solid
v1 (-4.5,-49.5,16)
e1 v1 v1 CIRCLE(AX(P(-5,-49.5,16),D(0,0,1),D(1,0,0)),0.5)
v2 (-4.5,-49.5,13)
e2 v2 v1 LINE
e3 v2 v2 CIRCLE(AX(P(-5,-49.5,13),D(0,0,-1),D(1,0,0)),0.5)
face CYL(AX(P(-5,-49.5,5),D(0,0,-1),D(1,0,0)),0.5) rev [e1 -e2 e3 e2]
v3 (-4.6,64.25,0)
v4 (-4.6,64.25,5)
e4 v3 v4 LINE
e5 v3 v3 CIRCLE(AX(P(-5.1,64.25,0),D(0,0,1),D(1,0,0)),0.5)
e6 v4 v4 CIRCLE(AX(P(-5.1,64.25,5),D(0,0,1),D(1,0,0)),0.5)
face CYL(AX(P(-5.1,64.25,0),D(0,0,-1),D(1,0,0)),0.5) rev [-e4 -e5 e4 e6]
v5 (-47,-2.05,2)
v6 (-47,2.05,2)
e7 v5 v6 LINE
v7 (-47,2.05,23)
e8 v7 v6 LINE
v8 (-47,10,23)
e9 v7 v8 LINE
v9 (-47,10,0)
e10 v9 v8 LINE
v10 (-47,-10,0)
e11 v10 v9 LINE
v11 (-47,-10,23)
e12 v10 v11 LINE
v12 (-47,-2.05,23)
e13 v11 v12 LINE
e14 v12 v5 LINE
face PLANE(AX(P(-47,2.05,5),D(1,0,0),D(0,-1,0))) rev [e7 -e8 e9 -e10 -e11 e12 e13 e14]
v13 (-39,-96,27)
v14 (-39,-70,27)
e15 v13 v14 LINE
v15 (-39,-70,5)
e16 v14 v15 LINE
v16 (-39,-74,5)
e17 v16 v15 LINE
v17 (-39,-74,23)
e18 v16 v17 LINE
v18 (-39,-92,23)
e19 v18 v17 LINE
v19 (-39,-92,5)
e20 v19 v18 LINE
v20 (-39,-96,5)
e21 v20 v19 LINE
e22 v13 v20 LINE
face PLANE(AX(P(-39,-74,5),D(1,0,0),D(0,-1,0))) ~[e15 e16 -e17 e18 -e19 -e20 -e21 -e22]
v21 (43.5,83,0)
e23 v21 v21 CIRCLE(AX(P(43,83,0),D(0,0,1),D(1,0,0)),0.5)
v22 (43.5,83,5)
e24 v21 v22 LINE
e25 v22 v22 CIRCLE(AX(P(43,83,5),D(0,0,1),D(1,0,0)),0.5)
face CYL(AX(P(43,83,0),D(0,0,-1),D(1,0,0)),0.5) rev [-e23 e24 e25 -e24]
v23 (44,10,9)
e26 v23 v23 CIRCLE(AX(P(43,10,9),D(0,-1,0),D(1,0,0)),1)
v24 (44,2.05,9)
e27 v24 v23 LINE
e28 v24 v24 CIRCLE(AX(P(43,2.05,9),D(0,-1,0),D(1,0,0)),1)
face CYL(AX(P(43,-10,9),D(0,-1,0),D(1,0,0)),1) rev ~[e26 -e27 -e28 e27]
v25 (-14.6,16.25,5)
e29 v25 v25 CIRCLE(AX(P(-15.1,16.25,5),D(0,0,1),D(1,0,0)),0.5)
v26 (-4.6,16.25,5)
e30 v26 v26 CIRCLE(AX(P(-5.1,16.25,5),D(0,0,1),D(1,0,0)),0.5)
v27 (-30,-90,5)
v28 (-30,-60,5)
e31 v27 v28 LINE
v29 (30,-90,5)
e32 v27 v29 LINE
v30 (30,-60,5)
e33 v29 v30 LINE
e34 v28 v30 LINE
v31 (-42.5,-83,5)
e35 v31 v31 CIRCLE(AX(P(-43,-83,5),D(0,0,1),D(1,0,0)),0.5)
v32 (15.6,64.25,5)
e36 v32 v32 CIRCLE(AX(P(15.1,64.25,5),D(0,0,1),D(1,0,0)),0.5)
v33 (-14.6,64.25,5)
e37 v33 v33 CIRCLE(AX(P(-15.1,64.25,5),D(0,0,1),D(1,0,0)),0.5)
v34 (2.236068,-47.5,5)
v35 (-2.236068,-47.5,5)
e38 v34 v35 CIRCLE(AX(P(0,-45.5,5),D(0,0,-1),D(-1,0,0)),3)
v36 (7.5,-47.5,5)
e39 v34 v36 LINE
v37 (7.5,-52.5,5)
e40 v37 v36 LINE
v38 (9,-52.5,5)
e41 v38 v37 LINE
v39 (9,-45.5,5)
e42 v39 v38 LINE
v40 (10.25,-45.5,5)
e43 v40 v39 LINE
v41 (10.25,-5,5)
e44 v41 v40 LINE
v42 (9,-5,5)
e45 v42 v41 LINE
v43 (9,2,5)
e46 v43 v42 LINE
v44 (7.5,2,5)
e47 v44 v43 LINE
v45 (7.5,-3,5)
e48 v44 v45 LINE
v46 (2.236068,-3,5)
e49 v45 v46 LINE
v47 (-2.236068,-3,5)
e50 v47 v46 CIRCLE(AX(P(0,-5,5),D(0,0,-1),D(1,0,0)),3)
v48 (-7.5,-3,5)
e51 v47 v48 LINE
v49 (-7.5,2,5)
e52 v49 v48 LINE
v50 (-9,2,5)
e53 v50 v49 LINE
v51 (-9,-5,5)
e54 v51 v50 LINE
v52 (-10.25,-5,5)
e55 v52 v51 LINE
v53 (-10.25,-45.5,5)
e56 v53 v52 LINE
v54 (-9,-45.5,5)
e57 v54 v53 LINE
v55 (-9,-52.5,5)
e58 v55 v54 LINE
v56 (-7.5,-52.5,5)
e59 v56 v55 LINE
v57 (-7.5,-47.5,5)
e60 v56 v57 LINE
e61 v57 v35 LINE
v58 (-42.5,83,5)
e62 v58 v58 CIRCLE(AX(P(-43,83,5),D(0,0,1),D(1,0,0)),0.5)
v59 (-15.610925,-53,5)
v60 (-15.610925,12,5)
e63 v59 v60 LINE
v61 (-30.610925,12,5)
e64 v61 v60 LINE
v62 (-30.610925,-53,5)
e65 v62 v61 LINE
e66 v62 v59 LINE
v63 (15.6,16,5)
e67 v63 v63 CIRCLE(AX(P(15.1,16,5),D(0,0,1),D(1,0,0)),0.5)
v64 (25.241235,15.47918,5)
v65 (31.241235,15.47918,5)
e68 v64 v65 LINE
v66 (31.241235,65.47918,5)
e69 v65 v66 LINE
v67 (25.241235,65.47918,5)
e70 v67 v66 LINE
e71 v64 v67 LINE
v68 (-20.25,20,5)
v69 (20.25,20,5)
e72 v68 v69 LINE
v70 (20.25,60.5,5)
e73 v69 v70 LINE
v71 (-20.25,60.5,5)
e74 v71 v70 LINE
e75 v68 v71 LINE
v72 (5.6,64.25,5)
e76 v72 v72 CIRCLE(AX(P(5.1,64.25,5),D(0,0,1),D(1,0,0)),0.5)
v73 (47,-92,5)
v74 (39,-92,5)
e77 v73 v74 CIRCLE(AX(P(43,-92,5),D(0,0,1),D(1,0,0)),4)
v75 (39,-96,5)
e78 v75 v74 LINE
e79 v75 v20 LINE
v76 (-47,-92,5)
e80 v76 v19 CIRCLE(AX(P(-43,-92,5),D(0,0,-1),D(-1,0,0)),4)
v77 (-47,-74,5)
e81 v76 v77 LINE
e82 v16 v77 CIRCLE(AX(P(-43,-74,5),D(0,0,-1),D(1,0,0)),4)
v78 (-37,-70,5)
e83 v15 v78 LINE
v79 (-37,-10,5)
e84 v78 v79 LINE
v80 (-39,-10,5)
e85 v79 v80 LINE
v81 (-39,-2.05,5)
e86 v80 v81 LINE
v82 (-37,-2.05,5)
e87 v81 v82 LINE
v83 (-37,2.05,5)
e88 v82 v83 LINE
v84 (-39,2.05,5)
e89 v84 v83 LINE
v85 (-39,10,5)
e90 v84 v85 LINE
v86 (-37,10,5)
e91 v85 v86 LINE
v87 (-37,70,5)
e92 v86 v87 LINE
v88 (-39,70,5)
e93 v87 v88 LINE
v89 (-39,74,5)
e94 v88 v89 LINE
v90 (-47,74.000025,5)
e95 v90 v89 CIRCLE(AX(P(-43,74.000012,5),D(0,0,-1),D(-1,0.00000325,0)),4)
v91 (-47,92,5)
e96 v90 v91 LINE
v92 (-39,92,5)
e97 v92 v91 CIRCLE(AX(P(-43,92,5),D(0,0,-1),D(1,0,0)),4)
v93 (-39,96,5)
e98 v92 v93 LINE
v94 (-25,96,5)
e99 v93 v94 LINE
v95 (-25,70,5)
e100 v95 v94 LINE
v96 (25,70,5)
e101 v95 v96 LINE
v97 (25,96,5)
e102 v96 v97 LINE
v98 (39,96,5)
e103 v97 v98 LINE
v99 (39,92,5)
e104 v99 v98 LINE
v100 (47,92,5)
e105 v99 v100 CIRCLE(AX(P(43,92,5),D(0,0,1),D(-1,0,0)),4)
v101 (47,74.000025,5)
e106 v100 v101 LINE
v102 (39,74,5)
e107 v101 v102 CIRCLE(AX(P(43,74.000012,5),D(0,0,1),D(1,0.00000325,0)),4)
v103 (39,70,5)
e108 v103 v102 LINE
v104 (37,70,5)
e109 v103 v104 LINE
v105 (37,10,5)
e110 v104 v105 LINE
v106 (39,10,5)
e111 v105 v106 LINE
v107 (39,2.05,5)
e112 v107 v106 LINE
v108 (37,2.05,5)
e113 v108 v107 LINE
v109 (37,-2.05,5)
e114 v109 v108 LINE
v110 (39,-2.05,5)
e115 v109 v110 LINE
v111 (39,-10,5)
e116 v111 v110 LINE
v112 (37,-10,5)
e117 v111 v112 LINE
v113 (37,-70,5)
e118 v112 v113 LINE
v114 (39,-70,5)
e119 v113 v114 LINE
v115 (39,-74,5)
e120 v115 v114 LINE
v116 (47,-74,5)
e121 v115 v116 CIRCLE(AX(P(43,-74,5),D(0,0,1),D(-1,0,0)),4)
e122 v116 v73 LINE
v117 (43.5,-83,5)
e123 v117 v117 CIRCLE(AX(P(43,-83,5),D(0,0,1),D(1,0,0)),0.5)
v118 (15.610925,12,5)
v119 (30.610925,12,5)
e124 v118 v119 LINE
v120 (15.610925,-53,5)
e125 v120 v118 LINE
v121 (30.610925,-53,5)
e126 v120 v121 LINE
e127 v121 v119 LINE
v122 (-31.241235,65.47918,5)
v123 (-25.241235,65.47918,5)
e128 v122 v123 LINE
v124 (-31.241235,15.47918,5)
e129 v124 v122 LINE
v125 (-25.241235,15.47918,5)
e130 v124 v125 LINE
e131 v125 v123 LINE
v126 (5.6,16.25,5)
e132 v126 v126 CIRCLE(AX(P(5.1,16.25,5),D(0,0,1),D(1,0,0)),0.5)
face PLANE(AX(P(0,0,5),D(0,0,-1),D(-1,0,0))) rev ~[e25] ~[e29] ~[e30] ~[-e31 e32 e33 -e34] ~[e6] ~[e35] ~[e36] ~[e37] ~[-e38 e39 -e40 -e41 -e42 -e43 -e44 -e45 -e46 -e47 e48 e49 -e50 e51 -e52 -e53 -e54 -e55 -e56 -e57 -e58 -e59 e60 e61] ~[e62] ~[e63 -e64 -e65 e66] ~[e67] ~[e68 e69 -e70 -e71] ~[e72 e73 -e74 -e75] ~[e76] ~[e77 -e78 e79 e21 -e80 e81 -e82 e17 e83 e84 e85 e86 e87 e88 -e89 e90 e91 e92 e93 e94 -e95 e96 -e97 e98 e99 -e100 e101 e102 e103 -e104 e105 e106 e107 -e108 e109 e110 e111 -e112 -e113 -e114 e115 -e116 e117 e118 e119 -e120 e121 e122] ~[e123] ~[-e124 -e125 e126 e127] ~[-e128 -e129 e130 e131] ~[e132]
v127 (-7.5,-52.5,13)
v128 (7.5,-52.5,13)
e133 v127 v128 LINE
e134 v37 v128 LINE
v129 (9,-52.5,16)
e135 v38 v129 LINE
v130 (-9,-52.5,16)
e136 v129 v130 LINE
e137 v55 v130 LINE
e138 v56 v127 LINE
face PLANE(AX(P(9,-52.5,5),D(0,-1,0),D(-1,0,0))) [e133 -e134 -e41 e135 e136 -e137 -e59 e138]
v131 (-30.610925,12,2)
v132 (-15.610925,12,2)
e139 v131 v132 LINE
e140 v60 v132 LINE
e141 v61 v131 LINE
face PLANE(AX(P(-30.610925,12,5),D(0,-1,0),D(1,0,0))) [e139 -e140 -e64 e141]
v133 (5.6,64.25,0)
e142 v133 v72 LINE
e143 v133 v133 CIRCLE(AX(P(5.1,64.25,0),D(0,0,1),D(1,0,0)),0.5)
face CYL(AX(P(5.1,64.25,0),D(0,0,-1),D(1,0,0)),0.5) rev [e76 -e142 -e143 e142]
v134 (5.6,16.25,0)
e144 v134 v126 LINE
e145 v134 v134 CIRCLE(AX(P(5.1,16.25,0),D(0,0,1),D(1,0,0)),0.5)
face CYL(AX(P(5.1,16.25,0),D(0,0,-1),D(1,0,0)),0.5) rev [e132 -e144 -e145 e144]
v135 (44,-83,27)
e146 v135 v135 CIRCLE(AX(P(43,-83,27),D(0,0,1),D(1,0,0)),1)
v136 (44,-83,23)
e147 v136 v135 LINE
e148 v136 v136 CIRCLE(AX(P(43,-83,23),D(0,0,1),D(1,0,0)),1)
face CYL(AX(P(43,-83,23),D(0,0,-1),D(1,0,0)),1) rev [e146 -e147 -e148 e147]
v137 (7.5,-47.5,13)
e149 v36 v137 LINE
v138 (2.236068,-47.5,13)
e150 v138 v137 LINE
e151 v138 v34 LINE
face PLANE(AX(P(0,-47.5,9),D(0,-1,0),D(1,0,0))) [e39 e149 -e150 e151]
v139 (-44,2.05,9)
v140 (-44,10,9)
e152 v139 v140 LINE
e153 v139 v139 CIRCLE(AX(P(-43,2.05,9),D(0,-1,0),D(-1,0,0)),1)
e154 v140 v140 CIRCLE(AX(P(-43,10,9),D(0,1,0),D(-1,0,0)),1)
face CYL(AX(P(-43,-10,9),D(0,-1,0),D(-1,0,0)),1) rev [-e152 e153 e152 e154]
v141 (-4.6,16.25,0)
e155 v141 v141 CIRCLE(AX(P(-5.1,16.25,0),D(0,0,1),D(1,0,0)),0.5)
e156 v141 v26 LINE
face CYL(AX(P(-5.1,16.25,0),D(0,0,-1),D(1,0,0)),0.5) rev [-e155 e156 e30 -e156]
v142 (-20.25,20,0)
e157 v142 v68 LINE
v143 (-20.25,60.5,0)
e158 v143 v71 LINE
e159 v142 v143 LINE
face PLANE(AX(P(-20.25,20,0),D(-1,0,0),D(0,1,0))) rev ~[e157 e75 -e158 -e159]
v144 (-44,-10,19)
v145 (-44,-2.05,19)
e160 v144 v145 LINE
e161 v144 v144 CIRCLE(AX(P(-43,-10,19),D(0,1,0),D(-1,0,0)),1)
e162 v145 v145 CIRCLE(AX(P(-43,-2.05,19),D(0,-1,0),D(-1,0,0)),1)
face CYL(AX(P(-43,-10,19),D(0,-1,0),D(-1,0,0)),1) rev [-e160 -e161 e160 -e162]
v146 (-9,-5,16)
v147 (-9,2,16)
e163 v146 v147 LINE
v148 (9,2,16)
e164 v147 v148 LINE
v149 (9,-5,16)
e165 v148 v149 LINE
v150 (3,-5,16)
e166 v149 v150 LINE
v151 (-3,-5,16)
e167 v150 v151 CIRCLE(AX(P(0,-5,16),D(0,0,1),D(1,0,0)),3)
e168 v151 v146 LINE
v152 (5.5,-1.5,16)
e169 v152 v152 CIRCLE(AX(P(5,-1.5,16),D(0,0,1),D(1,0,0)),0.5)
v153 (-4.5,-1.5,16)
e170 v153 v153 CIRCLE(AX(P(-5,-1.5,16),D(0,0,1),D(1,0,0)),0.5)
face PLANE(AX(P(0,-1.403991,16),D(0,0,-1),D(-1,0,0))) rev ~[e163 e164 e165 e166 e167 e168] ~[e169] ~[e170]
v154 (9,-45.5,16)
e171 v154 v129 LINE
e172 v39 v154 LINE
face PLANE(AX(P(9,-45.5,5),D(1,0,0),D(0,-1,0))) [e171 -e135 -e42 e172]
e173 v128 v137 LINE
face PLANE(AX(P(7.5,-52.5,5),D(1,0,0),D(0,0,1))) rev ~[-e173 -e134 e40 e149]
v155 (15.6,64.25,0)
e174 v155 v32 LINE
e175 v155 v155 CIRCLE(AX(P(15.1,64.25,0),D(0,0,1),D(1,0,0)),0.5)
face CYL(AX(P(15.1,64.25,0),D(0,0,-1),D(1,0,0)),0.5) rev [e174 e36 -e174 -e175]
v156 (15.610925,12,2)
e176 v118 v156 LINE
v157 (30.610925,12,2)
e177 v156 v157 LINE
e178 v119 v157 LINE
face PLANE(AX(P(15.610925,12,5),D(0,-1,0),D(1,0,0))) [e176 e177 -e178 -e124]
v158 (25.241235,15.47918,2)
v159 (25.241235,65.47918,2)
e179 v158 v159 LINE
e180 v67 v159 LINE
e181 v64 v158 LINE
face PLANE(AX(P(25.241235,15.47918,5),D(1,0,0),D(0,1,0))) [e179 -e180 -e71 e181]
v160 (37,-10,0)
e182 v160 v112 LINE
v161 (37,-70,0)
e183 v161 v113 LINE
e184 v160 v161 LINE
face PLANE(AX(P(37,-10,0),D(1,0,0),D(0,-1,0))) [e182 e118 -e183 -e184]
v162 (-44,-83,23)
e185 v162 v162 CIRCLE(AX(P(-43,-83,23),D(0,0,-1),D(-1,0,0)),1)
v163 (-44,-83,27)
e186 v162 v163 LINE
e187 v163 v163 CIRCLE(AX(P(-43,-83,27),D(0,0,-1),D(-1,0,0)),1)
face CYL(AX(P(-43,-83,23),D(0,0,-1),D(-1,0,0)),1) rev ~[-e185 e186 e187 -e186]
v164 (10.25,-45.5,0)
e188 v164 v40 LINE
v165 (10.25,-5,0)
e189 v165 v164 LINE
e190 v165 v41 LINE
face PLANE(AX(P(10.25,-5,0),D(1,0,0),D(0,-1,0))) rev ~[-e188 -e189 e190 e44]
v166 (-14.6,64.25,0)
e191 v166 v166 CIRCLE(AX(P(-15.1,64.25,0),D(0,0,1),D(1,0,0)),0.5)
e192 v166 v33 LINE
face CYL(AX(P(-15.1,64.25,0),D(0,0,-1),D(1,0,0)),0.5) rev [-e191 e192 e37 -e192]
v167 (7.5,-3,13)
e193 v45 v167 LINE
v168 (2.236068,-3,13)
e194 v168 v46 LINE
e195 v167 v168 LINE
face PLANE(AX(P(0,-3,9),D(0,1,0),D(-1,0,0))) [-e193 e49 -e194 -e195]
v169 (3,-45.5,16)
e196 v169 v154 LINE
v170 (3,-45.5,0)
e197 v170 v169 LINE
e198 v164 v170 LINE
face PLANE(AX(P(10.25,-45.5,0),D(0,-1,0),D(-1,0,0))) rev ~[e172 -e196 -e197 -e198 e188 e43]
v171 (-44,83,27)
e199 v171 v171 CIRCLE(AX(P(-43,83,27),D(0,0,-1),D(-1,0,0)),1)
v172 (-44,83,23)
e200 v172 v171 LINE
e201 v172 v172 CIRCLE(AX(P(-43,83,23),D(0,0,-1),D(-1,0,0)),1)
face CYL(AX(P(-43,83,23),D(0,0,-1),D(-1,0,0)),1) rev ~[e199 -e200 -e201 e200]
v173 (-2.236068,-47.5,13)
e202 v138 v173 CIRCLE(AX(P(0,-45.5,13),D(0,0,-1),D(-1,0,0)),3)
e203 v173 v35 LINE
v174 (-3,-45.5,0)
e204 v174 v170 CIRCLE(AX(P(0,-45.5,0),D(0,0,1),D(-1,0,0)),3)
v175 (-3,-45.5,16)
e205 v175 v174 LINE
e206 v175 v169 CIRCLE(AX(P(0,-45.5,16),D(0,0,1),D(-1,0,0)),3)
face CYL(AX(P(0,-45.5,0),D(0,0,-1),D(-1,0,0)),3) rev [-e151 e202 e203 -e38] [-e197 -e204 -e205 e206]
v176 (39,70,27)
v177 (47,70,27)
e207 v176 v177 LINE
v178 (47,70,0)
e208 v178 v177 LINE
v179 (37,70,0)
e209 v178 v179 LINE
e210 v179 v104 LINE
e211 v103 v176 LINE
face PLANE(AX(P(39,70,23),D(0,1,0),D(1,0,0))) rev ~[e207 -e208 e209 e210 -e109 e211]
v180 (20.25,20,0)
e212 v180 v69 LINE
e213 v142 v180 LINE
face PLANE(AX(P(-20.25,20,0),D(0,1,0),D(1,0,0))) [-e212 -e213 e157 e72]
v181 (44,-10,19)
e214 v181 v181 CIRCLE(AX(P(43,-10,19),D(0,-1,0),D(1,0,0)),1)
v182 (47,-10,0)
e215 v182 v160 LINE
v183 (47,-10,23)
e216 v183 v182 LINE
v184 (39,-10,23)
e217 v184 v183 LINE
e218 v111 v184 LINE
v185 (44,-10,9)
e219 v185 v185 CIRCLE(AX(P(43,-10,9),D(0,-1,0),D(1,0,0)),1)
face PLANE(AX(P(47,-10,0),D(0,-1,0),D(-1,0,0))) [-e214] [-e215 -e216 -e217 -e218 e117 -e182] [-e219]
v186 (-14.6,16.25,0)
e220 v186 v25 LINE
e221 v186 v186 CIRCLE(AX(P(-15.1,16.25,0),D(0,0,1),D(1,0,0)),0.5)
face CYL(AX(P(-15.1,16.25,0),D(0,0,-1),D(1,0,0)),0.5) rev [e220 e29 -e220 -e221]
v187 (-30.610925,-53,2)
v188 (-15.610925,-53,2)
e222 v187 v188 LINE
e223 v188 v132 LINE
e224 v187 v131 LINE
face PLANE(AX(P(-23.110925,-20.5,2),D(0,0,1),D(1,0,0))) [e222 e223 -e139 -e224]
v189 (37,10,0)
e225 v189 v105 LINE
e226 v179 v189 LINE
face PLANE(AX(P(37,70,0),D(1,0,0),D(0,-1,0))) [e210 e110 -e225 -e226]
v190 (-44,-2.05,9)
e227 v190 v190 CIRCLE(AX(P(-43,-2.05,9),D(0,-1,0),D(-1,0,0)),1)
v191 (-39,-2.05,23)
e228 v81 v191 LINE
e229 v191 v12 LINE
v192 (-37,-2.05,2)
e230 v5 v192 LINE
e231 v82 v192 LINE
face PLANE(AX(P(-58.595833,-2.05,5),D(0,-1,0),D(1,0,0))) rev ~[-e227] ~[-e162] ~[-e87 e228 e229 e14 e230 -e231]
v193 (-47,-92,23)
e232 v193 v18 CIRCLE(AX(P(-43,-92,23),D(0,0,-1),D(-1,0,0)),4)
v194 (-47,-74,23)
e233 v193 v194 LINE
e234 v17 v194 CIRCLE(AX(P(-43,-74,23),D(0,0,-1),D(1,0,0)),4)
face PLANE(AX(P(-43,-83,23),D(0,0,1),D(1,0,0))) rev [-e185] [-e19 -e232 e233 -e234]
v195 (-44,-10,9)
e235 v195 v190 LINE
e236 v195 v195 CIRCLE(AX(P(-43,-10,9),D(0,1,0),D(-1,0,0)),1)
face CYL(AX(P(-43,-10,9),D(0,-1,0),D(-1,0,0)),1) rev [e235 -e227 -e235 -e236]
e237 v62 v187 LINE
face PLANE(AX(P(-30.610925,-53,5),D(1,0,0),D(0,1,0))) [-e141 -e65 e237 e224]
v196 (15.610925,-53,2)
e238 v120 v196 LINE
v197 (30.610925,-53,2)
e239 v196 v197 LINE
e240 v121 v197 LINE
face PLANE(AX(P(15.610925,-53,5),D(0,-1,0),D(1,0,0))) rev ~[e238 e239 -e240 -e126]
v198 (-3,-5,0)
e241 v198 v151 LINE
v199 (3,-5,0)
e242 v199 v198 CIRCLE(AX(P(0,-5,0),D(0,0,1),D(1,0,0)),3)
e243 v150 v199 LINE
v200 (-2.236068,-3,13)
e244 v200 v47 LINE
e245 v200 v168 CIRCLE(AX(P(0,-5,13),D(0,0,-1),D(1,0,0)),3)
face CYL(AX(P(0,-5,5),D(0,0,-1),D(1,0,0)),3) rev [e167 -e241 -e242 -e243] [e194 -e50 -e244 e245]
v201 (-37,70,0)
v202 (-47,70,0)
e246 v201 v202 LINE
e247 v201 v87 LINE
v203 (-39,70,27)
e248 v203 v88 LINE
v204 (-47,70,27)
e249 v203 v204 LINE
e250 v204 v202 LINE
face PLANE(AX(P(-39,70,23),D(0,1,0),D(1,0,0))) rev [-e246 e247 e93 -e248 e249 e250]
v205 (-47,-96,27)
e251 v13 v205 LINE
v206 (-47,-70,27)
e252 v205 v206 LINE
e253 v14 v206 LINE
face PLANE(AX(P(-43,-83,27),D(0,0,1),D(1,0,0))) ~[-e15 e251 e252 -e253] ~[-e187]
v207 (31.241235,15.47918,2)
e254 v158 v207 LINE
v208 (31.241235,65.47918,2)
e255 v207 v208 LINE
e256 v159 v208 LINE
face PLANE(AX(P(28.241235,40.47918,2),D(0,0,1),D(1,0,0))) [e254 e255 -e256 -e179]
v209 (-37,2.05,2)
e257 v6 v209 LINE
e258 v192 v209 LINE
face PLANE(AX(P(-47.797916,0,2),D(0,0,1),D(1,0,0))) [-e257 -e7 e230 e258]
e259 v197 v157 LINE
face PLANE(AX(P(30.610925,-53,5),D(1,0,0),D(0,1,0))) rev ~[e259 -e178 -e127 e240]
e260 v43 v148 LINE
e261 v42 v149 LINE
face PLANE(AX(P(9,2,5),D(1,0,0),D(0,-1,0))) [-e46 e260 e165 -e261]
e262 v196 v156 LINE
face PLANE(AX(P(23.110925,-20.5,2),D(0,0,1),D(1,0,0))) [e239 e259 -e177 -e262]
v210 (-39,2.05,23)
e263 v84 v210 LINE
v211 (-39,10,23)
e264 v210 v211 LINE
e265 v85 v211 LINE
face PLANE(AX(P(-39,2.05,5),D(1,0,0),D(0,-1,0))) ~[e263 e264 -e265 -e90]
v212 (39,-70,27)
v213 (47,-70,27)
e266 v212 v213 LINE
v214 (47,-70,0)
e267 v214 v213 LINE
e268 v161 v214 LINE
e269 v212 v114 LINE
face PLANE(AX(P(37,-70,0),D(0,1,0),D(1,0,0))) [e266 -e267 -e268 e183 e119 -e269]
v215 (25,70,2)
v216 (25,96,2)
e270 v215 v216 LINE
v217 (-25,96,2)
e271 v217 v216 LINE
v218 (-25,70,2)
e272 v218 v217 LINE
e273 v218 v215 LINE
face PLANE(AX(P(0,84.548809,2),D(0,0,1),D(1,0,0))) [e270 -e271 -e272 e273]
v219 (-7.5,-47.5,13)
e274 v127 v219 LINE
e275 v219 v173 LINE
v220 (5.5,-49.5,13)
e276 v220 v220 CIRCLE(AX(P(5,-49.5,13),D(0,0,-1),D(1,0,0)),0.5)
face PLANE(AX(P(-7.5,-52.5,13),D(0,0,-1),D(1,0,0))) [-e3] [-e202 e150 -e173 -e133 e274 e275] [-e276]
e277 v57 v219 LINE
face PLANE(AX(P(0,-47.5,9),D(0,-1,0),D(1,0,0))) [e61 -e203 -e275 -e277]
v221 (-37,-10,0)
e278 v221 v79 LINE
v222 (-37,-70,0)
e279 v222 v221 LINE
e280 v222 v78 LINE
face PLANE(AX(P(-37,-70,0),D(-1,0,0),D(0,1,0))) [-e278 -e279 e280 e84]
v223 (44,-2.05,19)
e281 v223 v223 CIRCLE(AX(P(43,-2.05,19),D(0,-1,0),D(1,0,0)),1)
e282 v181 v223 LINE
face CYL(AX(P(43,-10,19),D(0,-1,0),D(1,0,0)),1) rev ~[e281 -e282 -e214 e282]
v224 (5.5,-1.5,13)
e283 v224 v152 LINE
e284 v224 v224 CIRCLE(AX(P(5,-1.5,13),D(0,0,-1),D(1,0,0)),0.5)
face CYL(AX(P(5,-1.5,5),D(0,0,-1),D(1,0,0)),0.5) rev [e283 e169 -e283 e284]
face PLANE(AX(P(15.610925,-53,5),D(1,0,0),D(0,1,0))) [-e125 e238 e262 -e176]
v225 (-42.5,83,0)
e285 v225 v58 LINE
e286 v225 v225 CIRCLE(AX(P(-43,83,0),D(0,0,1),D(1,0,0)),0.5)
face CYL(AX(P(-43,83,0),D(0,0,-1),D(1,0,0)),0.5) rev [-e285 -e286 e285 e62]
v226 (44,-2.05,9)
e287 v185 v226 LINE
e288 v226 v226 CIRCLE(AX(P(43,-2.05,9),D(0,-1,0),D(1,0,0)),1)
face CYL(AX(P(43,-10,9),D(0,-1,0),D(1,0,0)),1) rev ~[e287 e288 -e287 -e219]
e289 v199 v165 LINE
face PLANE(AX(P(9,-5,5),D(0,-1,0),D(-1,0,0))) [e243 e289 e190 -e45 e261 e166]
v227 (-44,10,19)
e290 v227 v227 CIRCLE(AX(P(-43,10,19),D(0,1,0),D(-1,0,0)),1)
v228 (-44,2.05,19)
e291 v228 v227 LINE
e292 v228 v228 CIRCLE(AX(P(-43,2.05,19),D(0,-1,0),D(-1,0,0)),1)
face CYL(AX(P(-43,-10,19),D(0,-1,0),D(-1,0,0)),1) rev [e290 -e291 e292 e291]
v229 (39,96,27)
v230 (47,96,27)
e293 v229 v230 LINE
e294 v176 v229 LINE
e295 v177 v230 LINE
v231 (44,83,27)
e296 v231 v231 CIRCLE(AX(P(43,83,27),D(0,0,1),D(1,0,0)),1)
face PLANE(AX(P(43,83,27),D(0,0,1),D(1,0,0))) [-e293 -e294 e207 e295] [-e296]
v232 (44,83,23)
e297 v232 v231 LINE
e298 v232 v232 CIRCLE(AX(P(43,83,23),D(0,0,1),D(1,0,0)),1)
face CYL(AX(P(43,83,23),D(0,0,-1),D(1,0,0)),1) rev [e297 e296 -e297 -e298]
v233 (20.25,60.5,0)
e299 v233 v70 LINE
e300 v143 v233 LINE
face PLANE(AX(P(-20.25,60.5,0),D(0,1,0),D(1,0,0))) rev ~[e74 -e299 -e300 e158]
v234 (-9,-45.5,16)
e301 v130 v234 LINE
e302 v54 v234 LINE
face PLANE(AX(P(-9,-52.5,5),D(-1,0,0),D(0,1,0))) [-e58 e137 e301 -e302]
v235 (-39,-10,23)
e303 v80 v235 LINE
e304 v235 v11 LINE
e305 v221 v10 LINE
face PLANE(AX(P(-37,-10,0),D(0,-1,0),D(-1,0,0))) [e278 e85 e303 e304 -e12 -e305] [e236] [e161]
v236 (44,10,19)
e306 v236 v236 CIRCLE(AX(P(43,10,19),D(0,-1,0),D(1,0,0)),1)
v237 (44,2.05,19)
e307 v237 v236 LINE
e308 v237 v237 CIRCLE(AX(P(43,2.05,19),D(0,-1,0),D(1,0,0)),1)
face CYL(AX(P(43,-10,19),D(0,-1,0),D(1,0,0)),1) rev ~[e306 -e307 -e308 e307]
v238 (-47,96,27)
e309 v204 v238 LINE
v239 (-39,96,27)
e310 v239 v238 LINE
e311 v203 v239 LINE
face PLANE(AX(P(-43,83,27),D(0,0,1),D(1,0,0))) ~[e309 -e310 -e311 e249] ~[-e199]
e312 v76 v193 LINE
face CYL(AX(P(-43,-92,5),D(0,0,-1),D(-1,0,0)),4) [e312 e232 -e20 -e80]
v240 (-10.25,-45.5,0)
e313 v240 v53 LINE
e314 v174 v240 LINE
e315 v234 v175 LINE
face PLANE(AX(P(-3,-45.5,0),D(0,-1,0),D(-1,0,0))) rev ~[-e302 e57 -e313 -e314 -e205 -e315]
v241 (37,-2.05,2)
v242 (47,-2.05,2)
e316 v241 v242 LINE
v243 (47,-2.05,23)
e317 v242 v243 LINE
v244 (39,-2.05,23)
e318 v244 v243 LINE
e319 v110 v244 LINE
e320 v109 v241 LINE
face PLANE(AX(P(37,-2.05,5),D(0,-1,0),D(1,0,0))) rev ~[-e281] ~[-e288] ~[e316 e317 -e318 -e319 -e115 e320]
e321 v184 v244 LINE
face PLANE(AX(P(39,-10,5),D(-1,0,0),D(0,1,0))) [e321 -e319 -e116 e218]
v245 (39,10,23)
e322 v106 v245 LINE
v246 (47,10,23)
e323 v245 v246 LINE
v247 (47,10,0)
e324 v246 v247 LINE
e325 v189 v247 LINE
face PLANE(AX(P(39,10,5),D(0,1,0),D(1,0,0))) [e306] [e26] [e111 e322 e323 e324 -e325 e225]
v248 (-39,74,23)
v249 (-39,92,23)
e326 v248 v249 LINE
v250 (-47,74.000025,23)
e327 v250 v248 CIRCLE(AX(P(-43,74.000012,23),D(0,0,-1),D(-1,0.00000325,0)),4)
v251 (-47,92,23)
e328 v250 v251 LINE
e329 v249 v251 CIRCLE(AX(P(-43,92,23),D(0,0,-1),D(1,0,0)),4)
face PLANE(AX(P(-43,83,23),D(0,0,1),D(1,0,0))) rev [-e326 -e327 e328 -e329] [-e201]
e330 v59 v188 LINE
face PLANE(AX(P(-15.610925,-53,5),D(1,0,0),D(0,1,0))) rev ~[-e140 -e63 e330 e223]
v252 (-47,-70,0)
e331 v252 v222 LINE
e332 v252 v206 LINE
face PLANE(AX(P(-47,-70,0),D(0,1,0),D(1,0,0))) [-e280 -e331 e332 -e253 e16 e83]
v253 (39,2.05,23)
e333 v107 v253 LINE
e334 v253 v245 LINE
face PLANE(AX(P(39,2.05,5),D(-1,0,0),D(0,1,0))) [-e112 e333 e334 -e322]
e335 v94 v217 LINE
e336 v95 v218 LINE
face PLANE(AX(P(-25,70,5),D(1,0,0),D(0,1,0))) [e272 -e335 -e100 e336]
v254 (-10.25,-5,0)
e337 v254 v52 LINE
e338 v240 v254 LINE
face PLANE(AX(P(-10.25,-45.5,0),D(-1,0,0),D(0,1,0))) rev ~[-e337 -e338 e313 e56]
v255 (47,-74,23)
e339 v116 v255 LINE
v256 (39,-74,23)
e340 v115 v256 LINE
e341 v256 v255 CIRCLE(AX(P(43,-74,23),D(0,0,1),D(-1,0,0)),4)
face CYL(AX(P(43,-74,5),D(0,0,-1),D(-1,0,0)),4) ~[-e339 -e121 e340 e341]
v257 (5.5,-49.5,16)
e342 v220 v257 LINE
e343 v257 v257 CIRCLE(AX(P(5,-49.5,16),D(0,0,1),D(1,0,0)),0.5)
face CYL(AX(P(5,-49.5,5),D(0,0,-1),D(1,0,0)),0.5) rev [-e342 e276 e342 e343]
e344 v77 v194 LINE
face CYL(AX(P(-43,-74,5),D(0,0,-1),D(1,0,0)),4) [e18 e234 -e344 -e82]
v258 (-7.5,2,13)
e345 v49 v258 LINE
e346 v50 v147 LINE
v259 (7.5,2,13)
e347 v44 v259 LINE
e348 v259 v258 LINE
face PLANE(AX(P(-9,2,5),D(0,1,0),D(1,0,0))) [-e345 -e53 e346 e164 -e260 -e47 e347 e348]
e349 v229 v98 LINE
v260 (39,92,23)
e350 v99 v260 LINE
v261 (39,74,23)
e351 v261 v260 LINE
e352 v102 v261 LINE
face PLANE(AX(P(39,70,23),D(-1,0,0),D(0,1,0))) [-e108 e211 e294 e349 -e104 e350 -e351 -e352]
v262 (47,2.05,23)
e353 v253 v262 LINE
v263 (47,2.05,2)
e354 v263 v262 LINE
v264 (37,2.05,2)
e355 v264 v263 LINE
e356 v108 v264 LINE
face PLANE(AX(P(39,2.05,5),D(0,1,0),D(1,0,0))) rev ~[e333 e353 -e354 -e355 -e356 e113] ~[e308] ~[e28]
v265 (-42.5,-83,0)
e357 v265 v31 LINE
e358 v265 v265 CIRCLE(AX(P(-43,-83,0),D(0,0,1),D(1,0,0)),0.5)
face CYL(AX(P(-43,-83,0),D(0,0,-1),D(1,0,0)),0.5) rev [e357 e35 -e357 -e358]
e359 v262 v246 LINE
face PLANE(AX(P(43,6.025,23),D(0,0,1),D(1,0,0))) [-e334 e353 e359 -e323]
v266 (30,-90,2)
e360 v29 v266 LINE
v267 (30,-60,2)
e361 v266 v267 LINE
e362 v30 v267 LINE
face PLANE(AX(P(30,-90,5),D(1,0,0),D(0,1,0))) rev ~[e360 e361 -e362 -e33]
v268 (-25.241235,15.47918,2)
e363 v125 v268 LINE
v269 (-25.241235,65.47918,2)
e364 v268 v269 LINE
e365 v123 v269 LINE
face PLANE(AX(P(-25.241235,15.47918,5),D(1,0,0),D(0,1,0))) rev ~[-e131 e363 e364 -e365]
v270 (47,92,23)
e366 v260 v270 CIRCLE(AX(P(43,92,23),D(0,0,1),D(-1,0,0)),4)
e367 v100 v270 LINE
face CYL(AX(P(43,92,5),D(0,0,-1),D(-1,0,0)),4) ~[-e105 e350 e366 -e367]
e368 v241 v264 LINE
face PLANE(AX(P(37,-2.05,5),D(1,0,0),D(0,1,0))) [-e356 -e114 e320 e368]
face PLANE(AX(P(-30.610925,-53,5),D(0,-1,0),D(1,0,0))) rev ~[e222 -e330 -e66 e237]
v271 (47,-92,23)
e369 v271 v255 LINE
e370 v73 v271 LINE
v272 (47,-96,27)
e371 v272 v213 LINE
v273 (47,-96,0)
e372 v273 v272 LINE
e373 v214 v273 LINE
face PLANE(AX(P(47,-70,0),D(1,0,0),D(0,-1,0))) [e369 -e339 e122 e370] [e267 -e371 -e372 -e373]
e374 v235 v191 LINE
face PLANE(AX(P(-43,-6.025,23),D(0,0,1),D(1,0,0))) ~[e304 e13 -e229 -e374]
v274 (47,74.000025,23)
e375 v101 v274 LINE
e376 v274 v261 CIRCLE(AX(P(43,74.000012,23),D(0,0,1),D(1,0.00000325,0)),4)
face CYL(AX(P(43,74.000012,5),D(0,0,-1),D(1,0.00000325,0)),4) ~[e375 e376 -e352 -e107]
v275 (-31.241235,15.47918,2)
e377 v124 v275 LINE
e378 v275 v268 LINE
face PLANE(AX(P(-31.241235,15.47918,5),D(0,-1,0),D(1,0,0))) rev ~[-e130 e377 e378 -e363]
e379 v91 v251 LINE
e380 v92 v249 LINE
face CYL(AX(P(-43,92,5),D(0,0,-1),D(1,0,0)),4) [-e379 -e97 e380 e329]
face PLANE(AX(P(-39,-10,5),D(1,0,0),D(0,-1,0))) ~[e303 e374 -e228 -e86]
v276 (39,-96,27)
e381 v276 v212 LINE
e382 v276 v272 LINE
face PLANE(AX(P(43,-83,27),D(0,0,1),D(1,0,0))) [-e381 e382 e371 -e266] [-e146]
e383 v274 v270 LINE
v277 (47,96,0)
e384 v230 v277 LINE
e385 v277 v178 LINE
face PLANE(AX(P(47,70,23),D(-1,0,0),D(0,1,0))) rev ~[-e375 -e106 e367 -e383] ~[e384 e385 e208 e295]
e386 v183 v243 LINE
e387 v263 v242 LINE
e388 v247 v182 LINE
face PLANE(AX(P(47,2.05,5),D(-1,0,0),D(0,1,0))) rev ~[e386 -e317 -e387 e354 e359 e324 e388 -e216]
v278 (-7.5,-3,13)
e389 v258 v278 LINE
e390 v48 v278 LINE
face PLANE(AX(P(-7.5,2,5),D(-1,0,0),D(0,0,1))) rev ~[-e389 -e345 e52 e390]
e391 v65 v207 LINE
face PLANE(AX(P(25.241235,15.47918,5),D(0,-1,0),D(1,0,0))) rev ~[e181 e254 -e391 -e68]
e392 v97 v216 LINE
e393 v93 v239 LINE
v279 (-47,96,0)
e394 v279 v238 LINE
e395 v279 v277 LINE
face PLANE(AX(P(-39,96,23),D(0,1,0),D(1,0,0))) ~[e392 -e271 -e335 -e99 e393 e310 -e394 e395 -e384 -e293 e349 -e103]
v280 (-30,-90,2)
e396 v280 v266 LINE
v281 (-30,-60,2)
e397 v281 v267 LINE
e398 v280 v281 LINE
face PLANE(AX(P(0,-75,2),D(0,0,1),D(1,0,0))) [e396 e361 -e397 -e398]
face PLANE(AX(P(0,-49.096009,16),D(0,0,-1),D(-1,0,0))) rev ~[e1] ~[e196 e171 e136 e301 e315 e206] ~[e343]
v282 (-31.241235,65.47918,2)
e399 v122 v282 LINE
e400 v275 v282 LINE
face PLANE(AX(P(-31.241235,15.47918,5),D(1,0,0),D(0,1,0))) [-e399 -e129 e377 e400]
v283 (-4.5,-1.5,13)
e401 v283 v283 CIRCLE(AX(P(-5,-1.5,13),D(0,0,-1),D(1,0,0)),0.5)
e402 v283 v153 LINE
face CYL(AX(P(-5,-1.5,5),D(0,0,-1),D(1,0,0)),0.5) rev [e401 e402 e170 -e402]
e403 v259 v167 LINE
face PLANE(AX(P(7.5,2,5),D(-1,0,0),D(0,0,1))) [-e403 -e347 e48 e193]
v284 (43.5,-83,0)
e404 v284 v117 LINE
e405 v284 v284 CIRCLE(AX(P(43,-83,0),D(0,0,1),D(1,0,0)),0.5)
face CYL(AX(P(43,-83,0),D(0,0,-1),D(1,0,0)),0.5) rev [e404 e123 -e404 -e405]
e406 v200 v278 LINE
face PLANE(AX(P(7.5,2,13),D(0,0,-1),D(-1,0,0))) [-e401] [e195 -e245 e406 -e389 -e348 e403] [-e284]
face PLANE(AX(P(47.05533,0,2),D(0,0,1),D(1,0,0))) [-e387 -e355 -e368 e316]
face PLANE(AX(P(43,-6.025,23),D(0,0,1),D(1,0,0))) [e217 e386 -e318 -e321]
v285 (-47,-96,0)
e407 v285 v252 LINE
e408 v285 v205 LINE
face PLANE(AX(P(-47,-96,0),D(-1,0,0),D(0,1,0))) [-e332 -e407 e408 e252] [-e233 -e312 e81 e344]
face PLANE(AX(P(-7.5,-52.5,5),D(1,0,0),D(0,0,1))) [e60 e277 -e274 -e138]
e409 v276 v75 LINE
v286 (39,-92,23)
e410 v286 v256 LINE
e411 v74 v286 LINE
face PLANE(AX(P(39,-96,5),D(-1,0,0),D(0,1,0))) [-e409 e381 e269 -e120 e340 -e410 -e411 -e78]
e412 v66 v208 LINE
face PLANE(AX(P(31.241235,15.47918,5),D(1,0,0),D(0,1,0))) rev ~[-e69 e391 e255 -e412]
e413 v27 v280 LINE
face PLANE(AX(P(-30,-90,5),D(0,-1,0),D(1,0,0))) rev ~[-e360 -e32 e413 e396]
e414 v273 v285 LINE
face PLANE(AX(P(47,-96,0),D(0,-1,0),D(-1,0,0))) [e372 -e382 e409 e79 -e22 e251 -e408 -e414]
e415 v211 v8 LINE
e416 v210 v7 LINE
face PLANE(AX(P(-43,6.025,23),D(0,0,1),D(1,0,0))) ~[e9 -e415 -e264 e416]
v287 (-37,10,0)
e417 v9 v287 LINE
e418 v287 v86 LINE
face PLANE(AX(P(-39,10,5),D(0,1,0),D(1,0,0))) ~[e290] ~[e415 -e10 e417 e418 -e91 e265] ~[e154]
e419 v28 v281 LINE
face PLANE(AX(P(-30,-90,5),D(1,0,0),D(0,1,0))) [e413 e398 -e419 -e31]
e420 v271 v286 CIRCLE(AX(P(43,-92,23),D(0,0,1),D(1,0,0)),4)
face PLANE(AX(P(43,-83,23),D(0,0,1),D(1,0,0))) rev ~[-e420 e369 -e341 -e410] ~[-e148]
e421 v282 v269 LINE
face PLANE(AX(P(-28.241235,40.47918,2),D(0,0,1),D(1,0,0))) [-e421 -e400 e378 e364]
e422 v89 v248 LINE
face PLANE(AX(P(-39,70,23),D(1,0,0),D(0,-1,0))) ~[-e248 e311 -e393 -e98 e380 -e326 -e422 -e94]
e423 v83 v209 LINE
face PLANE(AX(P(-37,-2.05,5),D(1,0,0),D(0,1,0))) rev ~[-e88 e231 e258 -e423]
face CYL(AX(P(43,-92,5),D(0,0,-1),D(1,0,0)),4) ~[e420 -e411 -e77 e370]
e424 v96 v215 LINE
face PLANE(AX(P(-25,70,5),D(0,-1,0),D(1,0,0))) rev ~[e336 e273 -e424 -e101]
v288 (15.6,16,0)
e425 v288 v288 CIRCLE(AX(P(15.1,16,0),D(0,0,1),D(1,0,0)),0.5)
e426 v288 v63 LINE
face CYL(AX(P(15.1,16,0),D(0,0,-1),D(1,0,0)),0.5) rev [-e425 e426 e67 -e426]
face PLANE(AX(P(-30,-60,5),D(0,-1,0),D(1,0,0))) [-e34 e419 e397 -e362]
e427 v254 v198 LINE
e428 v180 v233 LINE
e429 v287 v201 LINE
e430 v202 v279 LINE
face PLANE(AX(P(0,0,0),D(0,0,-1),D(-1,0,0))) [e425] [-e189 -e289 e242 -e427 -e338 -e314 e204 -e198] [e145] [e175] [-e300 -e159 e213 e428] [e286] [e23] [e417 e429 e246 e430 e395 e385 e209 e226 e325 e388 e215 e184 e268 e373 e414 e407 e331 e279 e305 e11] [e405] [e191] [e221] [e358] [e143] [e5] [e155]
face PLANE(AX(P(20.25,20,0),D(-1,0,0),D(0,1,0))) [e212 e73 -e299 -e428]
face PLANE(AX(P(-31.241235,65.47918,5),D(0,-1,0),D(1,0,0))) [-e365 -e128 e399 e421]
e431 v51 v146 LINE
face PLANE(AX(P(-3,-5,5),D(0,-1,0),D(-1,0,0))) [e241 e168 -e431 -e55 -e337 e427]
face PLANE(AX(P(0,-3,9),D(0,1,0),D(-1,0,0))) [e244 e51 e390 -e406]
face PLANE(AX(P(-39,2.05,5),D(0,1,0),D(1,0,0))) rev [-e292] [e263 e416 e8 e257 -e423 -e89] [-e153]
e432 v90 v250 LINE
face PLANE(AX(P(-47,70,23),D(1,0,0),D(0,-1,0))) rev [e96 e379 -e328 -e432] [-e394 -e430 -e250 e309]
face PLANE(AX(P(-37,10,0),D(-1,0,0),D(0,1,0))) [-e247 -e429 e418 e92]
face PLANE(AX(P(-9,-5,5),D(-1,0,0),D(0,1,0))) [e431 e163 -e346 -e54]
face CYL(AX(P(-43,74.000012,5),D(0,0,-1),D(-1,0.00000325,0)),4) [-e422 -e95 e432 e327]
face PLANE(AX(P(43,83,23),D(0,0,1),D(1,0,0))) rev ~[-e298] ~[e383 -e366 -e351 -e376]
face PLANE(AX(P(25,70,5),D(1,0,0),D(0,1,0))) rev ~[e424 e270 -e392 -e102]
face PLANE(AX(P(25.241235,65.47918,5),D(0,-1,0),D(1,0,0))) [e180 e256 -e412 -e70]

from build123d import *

# Parameters (mm, degrees)
SKETCH_R        = 0.5
SKETCH_W        = 40.5
SKETCH_H        = 40.5
PAD_DEPTH       = 5
SKETCH001_W     = 50
SKETCH001_H     = 29.097618
SKETCH001_W_2   = 6
SKETCH001_H_2   = 50
SKETCH001_W_3   = 21.595833
SKETCH001_H_3   = 4.1
SKETCH001_W_4   = 20.110661
SKETCH001_W_5   = 15
SKETCH001_H_4   = 65
SKETCH001_W_6   = 60
SKETCH001_H_5   = 30
POCKET_DEPTH    = 3
SKETCH002_W     = 8
SKETCH002_H     = 7.95
PAD001_DEPTH    = 18
SKETCH003_R     = 1
POCKET001_DEPTH = 20
PAD002_DEPTH    = 18
SKETCH005_W     = 8
SKETCH005_H     = 26
SKETCH005_R     = 1
PAD003_DEPTH    = 4
SKETCH006_R     = 0.5
PAD004_DEPTH    = 11
SKETCH007_W     = 15
SKETCH007_H     = 8
POCKET002_DEPTH = 5
SKETCH008_W     = 15
SKETCH008_H     = 8
POCKET003_DEPTH = 5


with BuildPart() as part:
    # Sketch → Pad (new body)
    with BuildSketch(Plane.XY):
        Polygon((-47, 96), (47, 96), (47, 70), (37, 70), (37, 10), (47, 10), (47, -10), (37, -10), (37, -70), (47, -70), (47, -96), (-47, -96), (-47, -70), (-37, -70), (-37, -10), (-47, -10), (-47, 10), (-37, 10), (-37, 70), (-47, 70), align=None)
        with Locations((-15.1, 64.25)):
            Circle(SKETCH_R, mode=Mode.SUBTRACT)
        with Locations((-5.1, 64.25)):
            Circle(SKETCH_R, mode=Mode.SUBTRACT)
        with Locations((5.1, 64.25)):
            Circle(SKETCH_R, mode=Mode.SUBTRACT)
        with Locations((15.1, 64.25)):
            Circle(SKETCH_R, mode=Mode.SUBTRACT)
        with Locations((-15.1, 16.25)):
            Circle(SKETCH_R, mode=Mode.SUBTRACT)
        with Locations((-5.1, 16.25)):
            Circle(SKETCH_R, mode=Mode.SUBTRACT)
        with Locations((5.1, 16.25)):
            Circle(SKETCH_R, mode=Mode.SUBTRACT)
        with Locations((15.1, 16)):
            Circle(SKETCH_R, mode=Mode.SUBTRACT)
        with Locations((-43, 83)):
            Circle(SKETCH_R, mode=Mode.SUBTRACT)
        with Locations((43, 83)):
            Circle(SKETCH_R, mode=Mode.SUBTRACT)
        with Locations((43, -83)):
            Circle(SKETCH_R, mode=Mode.SUBTRACT)
        with Locations((-43, -83)):
            Circle(SKETCH_R, mode=Mode.SUBTRACT)
        with Locations((0, 40.25)):
            Rectangle(SKETCH_W, SKETCH_H, mode=Mode.SUBTRACT)
        with BuildLine():
            Line((-10.25, -5), (-3, -5))
            ThreePointArc((3, -5), (0, -2), (-3, -5))
            Line((3, -5), (10.25, -5))
            Line((10.25, -5), (10.25, -45.5))
            Line((10.25, -45.5), (3, -45.5))
            ThreePointArc((-3, -45.5), (0, -48.5), (3, -45.5))
            Line((-3, -45.5), (-10.25, -45.5))
            Line((-10.25, -45.5), (-10.25, -5))
        make_face(mode=Mode.SUBTRACT)
    extrude(amount=PAD_DEPTH)

    # Sketch001 → Pocket (cut)
    with BuildSketch(Plane.XY.offset(5)):
        with Locations((0, 84.548809)):
            Rectangle(SKETCH001_W, SKETCH001_H)
        with Locations((-28.241235, 40.47918)):
            Rectangle(SKETCH001_W_2, SKETCH001_H_2)
        with Locations((28.241235, 40.47918)):
            Rectangle(SKETCH001_W_2, SKETCH001_H_2)
        with Locations((-47.797916, 0)):
            Rectangle(SKETCH001_W_3, SKETCH001_H_3)
        with Locations((47.05533, 0)):
            Rectangle(SKETCH001_W_4, SKETCH001_H_3)
        with Locations((-23.110925, -20.5)):
            Rectangle(SKETCH001_W_5, SKETCH001_H_4)
        with Locations((23.110925, -20.5)):
            Rectangle(SKETCH001_W_5, SKETCH001_H_4)
        with Locations((0, -75)):
            Rectangle(SKETCH001_W_6, SKETCH001_H_5)
    extrude(amount=-POCKET_DEPTH, mode=Mode.SUBTRACT)

    # Sketch002 → Pad001 (new body)
    with BuildSketch(Plane.XY.offset(5)):
        with Locations((43, 6.025)):
            Rectangle(SKETCH002_W, SKETCH002_H)
        with Locations((43, -6.025)):
            Rectangle(SKETCH002_W, SKETCH002_H)
    pad001 = extrude(amount=PAD001_DEPTH)

    # Mirrored: Pad001 across Sketch002 V_Axis
    add(pad001.mirror(Plane(origin=(0, 0, 5), x_dir=(0, 0, 1), z_dir=(1, 0, 0))))

    # Sketch003 → Pocket001 (cut)
    with BuildSketch(Plane.XZ.offset(10)):
        with Locations((43, 19)):
            Circle(SKETCH003_R)
        with Locations((43, 9)):
            Circle(SKETCH003_R)
    pocket001 = extrude(amount=-POCKET001_DEPTH, mode=Mode.SUBTRACT)

    # Mirrored001: Pocket001 across Sketch003 V_Axis
    add(pocket001.mirror(Plane(origin=(0, -10, 0), x_dir=(0, -1, 0), z_dir=(1, 0, 0))), mode=Mode.SUBTRACT)

    # Sketch004 → Pad002 (new body)
    with BuildSketch(Plane.XY.offset(5)):
        with BuildLine():
            Line((39, 96), (47, 96))
            Line((47, 96), (47, 92))
            ThreePointArc((39, 92), (43, 88), (47, 92))
            Line((39, 92), (39, 96))
        make_face()
        with BuildLine():
            Line((47, 74.000025), (47, 70))
            Line((47, 70), (39, 70))
            Line((39, 70), (39, 74))
            ThreePointArc((47, 74.000025), (42.999988, 78.000012), (39, 74))
        make_face()
        with BuildLine():
            Line((39, -70), (47, -70))
            Line((47, -70), (47, -74))
            ThreePointArc((39, -74), (43, -78), (47, -74))
            Line((39, -74), (39, -70))
        make_face()
        with BuildLine():
            Line((47, -92), (47, -96))
            Line((47, -96), (39, -96))
            Line((39, -96), (39, -92))
            ThreePointArc((47, -92), (43, -88), (39, -92))
        make_face()
    pad002 = extrude(amount=PAD002_DEPTH)

    # Mirrored002: Pad002 across Sketch004 V_Axis
    add(pad002.mirror(Plane(origin=(0, 0, 5), x_dir=(0, 0, 1), z_dir=(1, 0, 0))))

    # Sketch005 → Pad003 (new body)
    with BuildSketch(Plane.XY.offset(23)):
        with Locations((43, 83)):
            Rectangle(SKETCH005_W, SKETCH005_H)
        with Locations((43, 83)):
            Circle(SKETCH005_R, mode=Mode.SUBTRACT)
        with Locations((43, -83)):
            Rectangle(SKETCH005_W, SKETCH005_H)
        with Locations((43, -83)):
            Circle(SKETCH005_R, mode=Mode.SUBTRACT)
    pad003 = extrude(amount=PAD003_DEPTH)

    # Mirrored003: Pad003 across Sketch005 V_Axis
    add(pad003.mirror(Plane(origin=(0, 0, 23), x_dir=(0, 0, 1), z_dir=(1, 0, 0))))

    # Sketch006 → Pad004 (new body)
    with BuildSketch(Plane.XY.offset(5)):
        with BuildLine():
            Line((-9, 2), (9, 2))
            Line((9, 2), (9, -5))
            Line((9, -5), (3, -5))
            ThreePointArc((3, -5), (0, -2), (-3, -5))
            Line((-3, -5), (-9, -5))
            Line((-9, -5), (-9, 2))
        make_face()
        with Locations((-5, -1.5)):
            Circle(SKETCH006_R, mode=Mode.SUBTRACT)
        with Locations((5, -1.5)):
            Circle(SKETCH006_R, mode=Mode.SUBTRACT)
        with BuildLine():
            Line((-9, -45.5), (-3, -45.5))
            ThreePointArc((-3, -45.5), (0, -48.5), (3, -45.5))
            Line((3, -45.5), (9, -45.5))
            Line((9, -45.5), (9, -52.5))
            Line((9, -52.5), (-9, -52.5))
            Line((-9, -52.5), (-9, -45.5))
        make_face()
        with Locations((-5, -49.5)):
            Circle(SKETCH006_R, mode=Mode.SUBTRACT)
        with Locations((5, -49.5)):
            Circle(SKETCH006_R, mode=Mode.SUBTRACT)
    extrude(amount=PAD004_DEPTH)

    # Sketch007 → Pocket002 (cut)
    with BuildSketch(Plane.XZ.offset(52.5)):
        with Locations((0, 9)):
            Rectangle(SKETCH007_W, SKETCH007_H)
    extrude(amount=-POCKET002_DEPTH, mode=Mode.SUBTRACT)

    # Sketch008 → Pocket003 (cut)
    with BuildSketch(Plane(origin=(0, 2, 0), x_dir=(-1, 0, 0), z_dir=(0, 1, 0))):
        with Locations((0, 9)):
            Rectangle(SKETCH008_W, SKETCH008_H)
    extrude(amount=-POCKET003_DEPTH, mode=Mode.SUBTRACT)


solid = part.part
